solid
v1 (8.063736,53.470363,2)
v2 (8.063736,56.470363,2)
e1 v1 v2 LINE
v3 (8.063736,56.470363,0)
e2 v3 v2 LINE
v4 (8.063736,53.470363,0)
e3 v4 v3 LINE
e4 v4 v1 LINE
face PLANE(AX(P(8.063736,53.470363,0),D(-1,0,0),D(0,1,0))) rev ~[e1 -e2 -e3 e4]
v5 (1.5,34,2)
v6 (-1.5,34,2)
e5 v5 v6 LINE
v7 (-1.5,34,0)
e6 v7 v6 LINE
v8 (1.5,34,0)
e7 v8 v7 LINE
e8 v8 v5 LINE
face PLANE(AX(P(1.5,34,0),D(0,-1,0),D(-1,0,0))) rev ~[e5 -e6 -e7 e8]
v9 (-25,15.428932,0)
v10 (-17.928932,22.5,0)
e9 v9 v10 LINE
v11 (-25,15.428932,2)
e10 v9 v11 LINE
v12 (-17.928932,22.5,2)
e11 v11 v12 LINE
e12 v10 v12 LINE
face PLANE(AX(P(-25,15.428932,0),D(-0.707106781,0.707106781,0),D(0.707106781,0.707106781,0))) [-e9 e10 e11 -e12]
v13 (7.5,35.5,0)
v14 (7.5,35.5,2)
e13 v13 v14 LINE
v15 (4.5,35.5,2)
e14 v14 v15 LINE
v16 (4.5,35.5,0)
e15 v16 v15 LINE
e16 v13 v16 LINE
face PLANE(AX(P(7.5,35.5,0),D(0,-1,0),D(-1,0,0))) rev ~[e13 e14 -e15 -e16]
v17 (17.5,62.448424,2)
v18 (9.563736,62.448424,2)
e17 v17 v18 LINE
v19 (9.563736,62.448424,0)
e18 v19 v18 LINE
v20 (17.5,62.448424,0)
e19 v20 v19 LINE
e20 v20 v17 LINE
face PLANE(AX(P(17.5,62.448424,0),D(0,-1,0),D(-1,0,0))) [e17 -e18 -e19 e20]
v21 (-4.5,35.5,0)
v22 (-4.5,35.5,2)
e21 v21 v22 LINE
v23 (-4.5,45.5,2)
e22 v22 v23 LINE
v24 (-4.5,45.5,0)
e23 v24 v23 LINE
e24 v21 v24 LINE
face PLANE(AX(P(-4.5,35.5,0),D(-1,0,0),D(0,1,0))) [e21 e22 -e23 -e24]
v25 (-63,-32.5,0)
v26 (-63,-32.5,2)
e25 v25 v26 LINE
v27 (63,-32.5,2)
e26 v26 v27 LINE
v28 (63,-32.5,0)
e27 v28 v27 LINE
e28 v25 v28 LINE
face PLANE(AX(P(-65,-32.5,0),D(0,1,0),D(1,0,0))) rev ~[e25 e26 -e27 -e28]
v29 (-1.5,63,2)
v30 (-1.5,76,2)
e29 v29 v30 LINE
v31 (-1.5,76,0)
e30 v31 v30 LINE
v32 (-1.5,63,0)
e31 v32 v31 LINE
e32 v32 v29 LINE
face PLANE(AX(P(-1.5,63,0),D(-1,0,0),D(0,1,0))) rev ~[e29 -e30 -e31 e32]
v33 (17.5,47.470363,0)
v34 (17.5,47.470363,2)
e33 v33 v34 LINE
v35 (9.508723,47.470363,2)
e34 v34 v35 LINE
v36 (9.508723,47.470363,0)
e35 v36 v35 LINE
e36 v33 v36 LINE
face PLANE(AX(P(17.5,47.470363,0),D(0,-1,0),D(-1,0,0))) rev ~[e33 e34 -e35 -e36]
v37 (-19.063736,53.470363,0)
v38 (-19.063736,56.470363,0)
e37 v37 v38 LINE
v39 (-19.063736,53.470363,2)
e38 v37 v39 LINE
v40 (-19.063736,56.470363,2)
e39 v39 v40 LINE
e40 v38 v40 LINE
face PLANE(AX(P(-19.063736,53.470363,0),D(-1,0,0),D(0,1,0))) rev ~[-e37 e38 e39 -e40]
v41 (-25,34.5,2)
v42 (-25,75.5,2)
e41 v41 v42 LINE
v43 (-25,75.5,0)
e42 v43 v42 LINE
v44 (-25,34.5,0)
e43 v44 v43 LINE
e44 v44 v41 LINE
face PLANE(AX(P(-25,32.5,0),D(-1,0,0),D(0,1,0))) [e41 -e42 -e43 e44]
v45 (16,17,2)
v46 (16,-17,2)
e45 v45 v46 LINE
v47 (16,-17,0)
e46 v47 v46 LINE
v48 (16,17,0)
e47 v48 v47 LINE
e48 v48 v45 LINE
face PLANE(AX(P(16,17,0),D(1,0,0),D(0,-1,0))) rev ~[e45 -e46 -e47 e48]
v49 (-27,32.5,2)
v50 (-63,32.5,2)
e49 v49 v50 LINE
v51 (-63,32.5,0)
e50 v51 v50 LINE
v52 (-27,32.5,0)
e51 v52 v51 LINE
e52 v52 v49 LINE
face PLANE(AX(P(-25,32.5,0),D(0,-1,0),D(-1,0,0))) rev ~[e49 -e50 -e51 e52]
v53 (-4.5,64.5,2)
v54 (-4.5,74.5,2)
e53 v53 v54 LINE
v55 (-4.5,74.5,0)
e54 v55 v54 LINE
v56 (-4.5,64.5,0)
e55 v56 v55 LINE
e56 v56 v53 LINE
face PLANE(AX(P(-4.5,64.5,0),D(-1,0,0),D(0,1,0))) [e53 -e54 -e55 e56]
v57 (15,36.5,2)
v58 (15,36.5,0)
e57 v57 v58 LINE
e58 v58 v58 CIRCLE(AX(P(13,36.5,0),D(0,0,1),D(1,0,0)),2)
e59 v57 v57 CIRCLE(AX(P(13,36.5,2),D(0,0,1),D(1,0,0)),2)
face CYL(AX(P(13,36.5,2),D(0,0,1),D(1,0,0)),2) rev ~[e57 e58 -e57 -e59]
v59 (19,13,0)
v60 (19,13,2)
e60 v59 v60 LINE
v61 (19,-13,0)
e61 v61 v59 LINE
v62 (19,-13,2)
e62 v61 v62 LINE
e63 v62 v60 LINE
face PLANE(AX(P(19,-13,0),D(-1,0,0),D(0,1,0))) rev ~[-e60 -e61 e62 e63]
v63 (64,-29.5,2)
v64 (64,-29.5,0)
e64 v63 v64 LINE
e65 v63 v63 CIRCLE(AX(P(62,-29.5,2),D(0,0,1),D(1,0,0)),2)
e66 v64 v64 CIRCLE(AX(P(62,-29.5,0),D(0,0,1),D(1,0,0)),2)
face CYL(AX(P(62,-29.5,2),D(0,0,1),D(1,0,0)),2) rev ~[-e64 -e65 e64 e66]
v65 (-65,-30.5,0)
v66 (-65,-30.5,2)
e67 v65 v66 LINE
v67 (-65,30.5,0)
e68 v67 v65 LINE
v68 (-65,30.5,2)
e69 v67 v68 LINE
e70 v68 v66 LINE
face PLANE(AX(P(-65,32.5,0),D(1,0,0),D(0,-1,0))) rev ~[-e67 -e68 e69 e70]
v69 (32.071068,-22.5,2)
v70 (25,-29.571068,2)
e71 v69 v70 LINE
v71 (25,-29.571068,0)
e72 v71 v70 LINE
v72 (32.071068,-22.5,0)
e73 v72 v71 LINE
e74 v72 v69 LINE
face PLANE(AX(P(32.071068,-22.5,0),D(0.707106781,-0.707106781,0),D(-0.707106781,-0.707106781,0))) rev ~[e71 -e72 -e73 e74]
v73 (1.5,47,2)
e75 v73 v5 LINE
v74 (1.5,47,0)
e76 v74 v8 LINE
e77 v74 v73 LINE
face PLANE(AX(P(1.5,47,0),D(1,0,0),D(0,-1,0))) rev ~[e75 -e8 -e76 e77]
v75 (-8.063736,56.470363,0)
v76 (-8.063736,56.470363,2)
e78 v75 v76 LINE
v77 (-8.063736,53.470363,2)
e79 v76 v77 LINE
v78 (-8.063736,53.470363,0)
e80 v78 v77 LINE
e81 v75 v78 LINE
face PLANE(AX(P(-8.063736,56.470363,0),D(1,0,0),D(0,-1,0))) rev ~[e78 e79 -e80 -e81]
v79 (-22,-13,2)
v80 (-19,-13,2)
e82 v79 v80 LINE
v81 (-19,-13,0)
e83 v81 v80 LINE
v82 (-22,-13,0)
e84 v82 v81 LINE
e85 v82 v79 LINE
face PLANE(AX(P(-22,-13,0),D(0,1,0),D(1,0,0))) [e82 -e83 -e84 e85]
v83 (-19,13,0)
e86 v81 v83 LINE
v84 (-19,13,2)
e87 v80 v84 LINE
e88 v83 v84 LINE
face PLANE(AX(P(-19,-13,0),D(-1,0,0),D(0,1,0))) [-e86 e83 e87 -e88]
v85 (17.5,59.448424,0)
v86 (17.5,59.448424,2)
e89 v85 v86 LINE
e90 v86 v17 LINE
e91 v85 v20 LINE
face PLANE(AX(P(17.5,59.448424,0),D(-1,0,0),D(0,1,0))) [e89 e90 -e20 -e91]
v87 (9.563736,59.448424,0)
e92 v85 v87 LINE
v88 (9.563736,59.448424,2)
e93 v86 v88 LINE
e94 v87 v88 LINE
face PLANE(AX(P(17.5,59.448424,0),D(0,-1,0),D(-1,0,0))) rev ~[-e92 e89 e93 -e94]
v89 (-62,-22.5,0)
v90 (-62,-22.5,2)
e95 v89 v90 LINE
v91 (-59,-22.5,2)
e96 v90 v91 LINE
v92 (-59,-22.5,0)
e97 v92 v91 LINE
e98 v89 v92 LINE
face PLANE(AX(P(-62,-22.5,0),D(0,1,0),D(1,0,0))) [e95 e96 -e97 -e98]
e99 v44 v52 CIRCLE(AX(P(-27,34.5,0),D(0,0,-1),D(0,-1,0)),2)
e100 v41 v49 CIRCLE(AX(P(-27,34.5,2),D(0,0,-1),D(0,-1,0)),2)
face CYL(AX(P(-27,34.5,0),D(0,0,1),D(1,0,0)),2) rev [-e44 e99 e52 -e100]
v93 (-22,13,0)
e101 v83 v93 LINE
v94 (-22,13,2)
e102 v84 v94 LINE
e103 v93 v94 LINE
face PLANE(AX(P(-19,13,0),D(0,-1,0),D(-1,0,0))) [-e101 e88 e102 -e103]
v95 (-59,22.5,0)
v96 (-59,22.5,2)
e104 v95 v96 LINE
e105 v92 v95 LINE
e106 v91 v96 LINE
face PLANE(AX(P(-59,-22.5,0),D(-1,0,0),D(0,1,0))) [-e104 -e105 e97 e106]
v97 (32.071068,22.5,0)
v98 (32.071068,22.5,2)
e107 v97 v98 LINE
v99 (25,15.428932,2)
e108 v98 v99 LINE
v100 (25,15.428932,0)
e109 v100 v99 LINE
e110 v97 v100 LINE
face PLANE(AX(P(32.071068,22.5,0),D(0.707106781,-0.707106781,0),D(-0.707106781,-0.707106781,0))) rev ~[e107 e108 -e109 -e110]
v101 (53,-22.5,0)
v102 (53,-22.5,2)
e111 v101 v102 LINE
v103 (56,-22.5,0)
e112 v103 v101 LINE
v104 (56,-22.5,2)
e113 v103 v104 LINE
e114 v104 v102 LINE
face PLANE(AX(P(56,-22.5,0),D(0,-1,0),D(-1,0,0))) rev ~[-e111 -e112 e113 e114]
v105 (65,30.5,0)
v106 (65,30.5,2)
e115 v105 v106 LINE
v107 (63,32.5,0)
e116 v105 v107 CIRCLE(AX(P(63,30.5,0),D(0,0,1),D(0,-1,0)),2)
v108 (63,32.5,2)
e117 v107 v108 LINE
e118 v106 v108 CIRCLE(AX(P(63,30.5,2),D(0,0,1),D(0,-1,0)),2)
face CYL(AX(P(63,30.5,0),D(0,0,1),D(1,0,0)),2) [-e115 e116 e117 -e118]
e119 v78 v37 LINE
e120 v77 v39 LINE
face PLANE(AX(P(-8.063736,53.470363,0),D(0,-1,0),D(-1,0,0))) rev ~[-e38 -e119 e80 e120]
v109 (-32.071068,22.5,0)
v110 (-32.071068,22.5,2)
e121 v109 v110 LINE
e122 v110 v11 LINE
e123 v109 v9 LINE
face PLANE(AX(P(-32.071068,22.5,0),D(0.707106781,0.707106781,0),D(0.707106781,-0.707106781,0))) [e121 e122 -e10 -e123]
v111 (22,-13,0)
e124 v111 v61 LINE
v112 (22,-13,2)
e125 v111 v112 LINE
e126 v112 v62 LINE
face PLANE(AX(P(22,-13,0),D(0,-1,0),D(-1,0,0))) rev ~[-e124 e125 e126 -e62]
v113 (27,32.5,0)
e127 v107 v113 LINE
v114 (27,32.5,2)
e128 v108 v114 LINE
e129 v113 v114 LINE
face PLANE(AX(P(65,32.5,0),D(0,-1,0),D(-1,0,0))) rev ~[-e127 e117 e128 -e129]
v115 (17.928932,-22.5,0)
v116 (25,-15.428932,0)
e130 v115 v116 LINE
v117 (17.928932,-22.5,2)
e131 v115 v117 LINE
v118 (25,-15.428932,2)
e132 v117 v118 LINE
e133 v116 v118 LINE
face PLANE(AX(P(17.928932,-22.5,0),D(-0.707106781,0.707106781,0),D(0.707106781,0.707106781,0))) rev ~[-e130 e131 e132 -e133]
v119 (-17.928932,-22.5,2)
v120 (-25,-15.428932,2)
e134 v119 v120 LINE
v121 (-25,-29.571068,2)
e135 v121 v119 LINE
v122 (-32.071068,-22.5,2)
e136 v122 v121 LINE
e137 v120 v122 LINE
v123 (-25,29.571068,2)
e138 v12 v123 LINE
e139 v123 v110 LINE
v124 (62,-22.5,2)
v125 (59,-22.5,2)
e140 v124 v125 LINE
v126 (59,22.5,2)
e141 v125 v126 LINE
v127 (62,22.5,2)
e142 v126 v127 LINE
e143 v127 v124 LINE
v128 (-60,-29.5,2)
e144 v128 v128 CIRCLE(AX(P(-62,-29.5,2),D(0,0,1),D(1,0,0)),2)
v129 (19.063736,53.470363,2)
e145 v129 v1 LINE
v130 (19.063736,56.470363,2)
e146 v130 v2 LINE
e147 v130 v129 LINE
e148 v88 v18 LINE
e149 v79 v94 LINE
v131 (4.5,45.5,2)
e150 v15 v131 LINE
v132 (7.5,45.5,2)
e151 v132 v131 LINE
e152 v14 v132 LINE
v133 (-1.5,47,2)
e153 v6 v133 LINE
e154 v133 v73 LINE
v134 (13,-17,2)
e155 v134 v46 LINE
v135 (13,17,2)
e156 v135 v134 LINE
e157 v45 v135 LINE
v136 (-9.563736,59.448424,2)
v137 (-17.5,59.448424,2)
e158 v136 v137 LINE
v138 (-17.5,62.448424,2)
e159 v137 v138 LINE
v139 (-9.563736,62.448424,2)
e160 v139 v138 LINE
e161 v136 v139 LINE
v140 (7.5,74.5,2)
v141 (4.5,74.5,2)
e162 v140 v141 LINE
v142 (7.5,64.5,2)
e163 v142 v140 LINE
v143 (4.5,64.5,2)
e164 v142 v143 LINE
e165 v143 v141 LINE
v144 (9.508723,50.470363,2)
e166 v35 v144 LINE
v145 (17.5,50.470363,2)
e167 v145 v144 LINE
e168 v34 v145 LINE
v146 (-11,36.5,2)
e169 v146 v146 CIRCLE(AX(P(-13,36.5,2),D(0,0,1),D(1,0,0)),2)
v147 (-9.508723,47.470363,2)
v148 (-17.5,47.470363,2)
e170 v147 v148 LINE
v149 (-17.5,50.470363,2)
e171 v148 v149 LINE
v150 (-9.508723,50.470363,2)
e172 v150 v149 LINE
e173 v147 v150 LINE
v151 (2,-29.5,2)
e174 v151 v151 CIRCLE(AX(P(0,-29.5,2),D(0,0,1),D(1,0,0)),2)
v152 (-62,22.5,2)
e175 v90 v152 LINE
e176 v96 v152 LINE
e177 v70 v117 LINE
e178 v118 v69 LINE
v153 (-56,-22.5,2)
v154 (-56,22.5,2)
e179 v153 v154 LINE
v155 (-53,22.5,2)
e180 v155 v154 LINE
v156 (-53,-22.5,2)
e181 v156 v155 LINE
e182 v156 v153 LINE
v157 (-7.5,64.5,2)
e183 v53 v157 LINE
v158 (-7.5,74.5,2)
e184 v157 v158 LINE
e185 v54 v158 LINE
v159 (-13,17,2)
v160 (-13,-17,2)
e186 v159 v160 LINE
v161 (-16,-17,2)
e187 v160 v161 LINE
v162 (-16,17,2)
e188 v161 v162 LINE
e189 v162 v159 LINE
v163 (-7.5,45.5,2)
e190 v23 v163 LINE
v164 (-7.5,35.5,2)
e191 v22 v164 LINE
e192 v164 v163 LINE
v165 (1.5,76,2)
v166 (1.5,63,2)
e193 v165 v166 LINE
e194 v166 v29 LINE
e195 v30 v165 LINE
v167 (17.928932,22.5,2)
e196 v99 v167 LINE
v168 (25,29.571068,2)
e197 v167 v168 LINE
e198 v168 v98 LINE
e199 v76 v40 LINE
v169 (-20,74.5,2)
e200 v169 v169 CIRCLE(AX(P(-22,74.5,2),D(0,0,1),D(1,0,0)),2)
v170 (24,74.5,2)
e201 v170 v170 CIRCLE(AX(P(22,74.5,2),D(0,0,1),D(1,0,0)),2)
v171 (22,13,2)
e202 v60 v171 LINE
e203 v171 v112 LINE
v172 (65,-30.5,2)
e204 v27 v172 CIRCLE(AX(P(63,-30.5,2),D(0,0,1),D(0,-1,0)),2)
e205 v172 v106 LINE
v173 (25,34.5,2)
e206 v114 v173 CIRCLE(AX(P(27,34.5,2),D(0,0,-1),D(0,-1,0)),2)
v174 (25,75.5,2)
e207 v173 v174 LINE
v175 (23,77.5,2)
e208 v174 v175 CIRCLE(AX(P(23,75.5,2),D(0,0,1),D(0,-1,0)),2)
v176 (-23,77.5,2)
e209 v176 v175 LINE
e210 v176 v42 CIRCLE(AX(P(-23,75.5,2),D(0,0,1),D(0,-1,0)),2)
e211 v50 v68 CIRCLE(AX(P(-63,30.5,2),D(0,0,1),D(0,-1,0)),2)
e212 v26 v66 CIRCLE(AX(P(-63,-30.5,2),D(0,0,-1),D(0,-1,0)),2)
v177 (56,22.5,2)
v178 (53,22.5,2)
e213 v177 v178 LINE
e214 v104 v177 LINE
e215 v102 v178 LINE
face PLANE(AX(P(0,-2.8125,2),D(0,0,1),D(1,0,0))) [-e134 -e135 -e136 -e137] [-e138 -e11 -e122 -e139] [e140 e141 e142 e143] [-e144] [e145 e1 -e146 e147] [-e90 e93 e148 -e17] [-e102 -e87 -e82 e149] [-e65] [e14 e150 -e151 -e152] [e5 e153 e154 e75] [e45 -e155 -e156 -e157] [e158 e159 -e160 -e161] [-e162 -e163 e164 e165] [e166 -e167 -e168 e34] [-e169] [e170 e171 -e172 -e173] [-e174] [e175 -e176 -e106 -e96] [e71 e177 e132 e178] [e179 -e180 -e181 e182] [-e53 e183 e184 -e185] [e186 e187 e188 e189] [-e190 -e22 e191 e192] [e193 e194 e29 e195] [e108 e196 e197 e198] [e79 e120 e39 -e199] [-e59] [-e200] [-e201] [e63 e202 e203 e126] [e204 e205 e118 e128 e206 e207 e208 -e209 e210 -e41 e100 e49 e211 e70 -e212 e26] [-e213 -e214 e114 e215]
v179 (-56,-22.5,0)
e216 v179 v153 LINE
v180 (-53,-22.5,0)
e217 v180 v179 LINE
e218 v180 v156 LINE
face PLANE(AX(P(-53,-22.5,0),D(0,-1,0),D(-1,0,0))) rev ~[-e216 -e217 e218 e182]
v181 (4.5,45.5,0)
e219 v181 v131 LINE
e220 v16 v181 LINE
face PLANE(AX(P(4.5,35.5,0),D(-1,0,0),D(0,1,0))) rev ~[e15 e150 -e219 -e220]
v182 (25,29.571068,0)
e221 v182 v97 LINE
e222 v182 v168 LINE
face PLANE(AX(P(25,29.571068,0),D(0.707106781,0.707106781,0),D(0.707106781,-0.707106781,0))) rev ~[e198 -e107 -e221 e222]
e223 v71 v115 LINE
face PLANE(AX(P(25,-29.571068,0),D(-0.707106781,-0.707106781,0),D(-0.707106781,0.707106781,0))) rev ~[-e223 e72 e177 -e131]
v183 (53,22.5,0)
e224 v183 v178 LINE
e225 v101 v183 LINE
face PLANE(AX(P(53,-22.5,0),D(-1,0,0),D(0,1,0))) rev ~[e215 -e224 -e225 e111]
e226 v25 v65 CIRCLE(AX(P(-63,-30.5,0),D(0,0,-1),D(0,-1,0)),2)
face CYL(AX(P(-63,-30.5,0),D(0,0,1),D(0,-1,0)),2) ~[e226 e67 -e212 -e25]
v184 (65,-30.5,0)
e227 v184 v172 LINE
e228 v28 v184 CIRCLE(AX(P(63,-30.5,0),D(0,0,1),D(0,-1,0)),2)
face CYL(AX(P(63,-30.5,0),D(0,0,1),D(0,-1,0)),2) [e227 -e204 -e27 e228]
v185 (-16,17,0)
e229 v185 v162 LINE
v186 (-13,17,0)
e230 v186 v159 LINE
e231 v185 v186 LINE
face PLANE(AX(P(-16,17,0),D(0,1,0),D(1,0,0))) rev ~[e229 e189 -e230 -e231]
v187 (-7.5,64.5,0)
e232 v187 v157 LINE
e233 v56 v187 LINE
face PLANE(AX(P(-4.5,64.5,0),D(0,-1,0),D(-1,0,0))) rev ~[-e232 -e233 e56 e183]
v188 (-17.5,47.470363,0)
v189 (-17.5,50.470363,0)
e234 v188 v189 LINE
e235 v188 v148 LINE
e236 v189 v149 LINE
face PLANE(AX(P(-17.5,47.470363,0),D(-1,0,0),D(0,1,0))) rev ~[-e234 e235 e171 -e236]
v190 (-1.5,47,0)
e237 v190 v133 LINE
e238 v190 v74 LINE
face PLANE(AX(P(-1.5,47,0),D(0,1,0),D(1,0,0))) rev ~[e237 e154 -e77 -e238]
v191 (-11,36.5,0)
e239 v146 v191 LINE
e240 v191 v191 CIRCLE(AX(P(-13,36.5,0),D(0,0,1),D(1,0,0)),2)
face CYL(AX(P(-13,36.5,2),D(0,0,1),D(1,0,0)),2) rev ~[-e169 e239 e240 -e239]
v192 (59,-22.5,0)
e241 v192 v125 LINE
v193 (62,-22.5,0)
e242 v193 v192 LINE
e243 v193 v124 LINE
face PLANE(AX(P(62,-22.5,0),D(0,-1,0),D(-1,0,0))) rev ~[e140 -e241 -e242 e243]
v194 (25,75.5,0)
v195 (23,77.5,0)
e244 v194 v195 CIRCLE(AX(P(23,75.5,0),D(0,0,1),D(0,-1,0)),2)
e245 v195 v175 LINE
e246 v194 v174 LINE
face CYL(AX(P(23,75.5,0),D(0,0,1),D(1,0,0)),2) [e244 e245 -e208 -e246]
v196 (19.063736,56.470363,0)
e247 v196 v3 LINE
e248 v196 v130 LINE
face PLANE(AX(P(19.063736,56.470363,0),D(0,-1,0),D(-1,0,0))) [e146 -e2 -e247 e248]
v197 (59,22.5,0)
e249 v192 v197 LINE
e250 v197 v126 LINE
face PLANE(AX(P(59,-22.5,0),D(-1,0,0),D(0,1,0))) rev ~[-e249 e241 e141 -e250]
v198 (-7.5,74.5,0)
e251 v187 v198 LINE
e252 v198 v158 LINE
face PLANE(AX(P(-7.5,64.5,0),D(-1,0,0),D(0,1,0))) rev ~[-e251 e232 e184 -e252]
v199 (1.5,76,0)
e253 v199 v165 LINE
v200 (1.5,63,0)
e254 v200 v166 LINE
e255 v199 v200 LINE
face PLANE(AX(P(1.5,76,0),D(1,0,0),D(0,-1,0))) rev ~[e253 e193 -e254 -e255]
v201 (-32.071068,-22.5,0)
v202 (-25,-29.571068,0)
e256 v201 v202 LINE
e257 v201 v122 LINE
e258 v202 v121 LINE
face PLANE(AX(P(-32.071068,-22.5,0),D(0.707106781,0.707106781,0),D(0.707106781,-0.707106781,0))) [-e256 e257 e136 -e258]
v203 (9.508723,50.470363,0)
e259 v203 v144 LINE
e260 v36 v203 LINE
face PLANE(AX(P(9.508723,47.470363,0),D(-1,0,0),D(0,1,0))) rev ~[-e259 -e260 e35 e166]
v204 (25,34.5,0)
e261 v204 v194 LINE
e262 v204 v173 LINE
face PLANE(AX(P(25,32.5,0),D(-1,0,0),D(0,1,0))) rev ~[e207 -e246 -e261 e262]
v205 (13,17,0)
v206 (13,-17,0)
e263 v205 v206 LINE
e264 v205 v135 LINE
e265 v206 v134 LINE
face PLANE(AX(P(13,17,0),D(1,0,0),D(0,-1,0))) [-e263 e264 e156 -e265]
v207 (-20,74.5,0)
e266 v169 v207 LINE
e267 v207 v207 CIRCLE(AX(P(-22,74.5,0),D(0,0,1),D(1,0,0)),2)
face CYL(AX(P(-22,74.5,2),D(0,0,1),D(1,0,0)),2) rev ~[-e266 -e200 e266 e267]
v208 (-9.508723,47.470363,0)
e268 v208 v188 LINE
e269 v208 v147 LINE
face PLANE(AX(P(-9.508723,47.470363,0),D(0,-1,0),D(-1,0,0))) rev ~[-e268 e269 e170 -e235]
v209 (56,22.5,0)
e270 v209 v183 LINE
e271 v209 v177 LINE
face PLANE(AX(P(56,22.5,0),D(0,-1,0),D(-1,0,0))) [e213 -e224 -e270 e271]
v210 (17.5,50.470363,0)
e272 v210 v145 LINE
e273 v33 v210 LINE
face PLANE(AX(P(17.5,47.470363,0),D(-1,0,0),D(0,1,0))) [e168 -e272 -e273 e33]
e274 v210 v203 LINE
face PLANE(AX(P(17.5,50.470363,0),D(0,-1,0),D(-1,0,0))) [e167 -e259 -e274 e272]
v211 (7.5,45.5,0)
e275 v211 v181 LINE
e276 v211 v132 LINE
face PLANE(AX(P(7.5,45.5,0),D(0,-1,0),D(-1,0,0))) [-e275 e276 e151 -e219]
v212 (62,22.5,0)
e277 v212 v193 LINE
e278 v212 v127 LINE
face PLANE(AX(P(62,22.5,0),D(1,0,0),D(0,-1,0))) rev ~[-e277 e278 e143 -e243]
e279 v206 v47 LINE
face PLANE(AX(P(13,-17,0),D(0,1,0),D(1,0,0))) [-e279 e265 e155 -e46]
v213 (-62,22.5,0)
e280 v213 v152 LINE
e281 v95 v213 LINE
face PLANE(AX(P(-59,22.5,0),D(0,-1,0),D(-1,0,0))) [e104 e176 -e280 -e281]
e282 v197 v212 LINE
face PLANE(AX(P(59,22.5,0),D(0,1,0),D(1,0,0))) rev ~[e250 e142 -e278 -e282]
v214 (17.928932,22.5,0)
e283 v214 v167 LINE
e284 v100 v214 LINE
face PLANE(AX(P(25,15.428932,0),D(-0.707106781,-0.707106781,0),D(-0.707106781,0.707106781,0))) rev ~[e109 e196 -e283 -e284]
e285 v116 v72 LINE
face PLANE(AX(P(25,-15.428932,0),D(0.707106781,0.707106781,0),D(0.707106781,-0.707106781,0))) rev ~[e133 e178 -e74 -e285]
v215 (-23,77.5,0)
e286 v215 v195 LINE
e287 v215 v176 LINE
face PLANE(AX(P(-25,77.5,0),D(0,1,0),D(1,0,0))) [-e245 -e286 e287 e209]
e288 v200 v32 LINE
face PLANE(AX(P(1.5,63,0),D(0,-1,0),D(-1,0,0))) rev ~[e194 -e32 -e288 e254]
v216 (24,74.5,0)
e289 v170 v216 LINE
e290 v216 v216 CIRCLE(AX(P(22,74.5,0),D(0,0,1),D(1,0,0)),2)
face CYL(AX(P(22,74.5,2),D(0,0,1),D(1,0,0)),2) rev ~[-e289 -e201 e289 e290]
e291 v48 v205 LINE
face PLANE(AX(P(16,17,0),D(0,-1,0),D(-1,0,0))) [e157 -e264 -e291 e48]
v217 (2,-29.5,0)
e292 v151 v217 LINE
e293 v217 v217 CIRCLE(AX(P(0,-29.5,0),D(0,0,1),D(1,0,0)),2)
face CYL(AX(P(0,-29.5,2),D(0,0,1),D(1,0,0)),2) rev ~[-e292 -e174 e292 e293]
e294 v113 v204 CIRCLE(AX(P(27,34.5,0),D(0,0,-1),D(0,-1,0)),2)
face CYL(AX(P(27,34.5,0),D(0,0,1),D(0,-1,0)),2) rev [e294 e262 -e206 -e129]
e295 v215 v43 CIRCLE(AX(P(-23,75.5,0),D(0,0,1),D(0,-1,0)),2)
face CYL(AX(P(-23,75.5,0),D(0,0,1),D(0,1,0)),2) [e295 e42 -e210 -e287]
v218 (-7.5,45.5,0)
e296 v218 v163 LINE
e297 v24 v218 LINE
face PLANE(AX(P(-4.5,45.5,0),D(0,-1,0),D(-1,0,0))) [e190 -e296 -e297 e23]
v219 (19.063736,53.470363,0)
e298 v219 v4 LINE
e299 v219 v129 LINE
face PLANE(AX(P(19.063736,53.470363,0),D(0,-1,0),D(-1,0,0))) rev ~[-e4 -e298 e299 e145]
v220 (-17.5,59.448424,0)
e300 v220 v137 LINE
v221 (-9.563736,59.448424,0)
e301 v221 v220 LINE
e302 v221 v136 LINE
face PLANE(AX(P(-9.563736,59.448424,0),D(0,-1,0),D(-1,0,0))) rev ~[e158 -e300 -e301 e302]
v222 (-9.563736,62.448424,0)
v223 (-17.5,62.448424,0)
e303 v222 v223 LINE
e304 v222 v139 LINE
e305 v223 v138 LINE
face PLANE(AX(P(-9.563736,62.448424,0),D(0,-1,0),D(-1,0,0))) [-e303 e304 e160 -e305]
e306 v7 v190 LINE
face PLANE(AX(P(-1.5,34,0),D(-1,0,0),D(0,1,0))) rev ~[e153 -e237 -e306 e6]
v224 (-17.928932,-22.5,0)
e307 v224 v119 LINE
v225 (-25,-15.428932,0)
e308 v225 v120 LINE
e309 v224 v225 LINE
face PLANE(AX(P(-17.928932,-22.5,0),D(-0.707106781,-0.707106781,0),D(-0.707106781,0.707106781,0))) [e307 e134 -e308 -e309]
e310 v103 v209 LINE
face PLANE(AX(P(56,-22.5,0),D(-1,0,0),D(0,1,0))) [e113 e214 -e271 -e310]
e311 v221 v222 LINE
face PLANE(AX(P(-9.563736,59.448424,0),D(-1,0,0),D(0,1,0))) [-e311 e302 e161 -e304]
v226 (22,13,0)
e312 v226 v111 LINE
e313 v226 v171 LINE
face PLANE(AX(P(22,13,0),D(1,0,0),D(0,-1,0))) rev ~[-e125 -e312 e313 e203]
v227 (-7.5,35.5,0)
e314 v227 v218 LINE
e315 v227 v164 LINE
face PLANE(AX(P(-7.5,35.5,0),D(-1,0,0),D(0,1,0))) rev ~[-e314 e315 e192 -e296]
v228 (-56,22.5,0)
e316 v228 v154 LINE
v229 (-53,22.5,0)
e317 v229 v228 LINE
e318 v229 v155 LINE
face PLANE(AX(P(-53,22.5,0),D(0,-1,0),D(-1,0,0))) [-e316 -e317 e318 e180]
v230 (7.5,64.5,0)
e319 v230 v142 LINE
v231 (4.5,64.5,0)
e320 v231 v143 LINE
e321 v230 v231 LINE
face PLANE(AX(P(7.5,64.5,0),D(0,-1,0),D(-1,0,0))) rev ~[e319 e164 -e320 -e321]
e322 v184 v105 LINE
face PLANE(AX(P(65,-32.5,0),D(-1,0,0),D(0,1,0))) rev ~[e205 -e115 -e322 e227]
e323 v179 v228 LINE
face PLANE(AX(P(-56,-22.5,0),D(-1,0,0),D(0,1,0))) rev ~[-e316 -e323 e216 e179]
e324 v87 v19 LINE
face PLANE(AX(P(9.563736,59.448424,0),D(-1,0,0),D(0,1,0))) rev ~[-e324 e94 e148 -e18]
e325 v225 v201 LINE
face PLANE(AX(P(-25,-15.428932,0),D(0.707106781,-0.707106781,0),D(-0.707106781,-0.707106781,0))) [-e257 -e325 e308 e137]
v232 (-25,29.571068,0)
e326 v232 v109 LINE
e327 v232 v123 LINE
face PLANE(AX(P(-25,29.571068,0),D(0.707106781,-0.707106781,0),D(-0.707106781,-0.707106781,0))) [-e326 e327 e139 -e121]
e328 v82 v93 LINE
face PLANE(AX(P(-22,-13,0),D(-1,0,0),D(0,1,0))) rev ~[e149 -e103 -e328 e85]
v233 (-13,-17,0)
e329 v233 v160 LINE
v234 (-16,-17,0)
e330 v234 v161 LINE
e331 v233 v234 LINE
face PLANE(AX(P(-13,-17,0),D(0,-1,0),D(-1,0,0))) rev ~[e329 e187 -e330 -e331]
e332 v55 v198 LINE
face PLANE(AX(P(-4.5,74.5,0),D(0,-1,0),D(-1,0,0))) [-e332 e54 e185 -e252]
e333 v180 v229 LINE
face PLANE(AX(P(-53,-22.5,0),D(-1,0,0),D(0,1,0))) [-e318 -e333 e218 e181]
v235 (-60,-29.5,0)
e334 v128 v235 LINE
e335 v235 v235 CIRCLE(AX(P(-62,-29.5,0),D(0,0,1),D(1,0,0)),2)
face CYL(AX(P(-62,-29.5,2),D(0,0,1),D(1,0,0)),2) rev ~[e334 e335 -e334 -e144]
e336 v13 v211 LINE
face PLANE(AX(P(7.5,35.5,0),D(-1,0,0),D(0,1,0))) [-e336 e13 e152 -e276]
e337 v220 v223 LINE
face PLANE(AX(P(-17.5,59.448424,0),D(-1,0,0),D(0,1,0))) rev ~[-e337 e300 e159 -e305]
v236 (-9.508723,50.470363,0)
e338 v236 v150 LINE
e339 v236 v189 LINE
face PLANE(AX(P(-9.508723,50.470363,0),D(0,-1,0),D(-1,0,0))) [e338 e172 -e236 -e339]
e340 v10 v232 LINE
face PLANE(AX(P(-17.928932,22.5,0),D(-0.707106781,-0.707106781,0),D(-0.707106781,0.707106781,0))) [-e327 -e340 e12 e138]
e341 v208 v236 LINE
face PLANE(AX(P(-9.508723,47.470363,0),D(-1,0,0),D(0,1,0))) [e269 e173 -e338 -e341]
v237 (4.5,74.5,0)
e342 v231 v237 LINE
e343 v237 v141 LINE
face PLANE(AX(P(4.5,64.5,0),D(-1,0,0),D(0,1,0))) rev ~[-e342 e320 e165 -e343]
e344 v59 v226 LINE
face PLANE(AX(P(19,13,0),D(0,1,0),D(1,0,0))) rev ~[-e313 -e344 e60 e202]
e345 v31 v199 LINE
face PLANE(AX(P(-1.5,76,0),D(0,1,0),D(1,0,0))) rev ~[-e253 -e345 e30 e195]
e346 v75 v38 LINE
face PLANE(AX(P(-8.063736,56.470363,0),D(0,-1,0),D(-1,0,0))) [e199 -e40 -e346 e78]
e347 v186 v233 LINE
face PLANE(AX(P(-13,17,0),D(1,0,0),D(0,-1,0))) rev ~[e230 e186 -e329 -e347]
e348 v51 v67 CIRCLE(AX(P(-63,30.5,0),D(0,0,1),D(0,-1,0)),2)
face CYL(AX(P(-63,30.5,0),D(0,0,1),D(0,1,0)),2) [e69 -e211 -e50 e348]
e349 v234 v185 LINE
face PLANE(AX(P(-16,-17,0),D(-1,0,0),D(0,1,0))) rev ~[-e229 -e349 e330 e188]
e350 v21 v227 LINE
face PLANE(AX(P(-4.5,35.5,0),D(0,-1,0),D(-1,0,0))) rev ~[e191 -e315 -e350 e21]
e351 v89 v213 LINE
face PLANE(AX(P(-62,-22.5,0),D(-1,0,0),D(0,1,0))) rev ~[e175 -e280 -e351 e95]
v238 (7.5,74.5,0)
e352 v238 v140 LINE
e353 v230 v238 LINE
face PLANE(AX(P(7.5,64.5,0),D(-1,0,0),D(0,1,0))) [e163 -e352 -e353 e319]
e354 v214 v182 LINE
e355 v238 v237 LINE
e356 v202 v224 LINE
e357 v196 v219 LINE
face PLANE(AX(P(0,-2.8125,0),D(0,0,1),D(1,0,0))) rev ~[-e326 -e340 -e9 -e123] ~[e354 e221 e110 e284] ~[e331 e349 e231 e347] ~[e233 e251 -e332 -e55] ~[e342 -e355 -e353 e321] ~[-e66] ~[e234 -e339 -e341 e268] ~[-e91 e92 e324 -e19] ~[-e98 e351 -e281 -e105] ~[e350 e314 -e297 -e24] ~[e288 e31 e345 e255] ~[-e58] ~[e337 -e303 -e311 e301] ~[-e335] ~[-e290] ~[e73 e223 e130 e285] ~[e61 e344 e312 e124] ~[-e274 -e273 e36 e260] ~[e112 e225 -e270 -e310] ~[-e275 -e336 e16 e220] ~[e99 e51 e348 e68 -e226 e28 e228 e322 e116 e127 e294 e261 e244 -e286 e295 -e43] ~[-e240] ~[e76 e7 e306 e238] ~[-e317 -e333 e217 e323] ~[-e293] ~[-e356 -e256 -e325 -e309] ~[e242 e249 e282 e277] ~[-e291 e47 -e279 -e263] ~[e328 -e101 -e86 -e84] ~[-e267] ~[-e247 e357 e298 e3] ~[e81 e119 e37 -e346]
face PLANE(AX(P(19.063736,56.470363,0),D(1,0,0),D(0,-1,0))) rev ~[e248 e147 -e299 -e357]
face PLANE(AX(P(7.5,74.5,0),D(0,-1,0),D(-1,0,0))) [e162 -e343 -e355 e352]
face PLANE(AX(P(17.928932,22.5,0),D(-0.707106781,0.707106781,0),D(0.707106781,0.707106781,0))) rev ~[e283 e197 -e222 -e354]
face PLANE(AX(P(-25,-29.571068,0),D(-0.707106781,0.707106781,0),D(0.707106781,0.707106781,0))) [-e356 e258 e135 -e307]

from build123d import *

# Parameters (mm, degrees)
SKETCH1_W           = 50
SKETCH1_H           = 45
BOSS_EXTRUDE1_DEPTH = 2
FILLET1_R           = 2
SKETCH3_W           = 3
SKETCH3_H           = 10
SKETCH3_W_2         = 7.936264089
SKETCH3_H_2         = 3
SKETCH3_W_3         = 11
SKETCH3_H_3         = 1.470363465
SKETCH3_H_4         = 1.529636535
SKETCH3_W_4         = 7.991276849
SKETCH3_H_5         = 45
CUT_EXTRUDE1_DEPTH  = 2
SKETCH4_R           = 2
CUT_EXTRUDE2_DEPTH  = 10


with BuildPart() as part:
    # Sketch1 → Boss-Extrude1 (new body)
    with BuildSketch(Plane.XY):
        Polygon((-65, -32.5), (65, -32.5), (65, 32.5), (25, 32.5), (25, -12.5), (-25, -12.5), (-25, 32.5), (-65, 32.5), align=None)
        with Locations((0, 55)):
            Rectangle(SKETCH1_W, SKETCH1_H)
        with Locations((0, 10)):
            Rectangle(SKETCH1_W, SKETCH1_H)
    extrude(amount=BOSS_EXTRUDE1_DEPTH)

    # Fillet1
    fillet1_edges = [part.edges().sort_by_distance(p)[0] for p in [
        (65, 32.5, 1),
        (65, -32.5, 1),
        (-65, -32.5, 1),
        (-65, 32.5, 1),
        (-25, 32.5, 1),
        (-25, 77.5, 1),
        (25, 77.5, 1),
        (25, 32.5, 1),
    ]]
    fillet(fillet1_edges, radius=FILLET1_R)

    # Sketch3 → Cut-Extrude1 (cut)
    with BuildSketch(Plane(origin=(0, 0, 0), x_dir=(-1, 0, 0), z_dir=(0, 0, -1))):
        with Locations((6, 40.5)):
            Rectangle(SKETCH3_W, SKETCH3_H)
        with Locations((-6, 40.5)):
            Rectangle(SKETCH3_W, SKETCH3_H)
        Polygon((-1.5, 34), (0, 34), (0, 47), (-1.5, 47), (-1.5, 45.5), (-1.5, 35.5), align=None)
        Polygon((0, 47), (0, 34), (1.5, 34), (1.5, 35.5), (1.5, 45.5), (1.5, 47), align=None)
        with Locations((-6, 69.5)):
            Rectangle(SKETCH3_W, SKETCH3_H)
        Polygon((-1.5, 63), (0, 63), (0, 76), (-1.5, 76), (-1.5, 74.5), (-1.5, 64.5), align=None)
        Polygon((0, 76), (0, 63), (1.5, 63), (1.5, 64.5), (1.5, 74.5), (1.5, 76), align=None)
        with Locations((6, 69.5)):
            Rectangle(SKETCH3_W, SKETCH3_H)
        with Locations((13.531867956, 60.94842354)):
            Rectangle(SKETCH3_W_2, SKETCH3_H_2)
        with Locations((13.563735911, 55.735181733)):
            Rectangle(SKETCH3_W_3, SKETCH3_H_3)
        with Locations((13.563735911, 54.235181733)):
            Rectangle(SKETCH3_W_3, SKETCH3_H_4)
        with Locations((13.504361575, 48.970363465)):
            Rectangle(SKETCH3_W_4, SKETCH3_H_2)
        with Locations((-13.531867956, 60.94842354)):
            Rectangle(SKETCH3_W_2, SKETCH3_H_2)
        with Locations((-13.563735911, 55.735181733)):
            Rectangle(SKETCH3_W_3, SKETCH3_H_3)
        with Locations((-13.563735911, 54.235181733)):
            Rectangle(SKETCH3_W_3, SKETCH3_H_4)
        with Locations((-13.504361575, 48.970363465)):
            Rectangle(SKETCH3_W_4, SKETCH3_H_2)
        Polygon((-25, 15.428932188), (-17.928932188, 22.5), (-25, 29.571067812), (-32.071067812, 22.5), align=None)
        Polygon((-19, -13), (-19, 13), (-22, 13), (-22, 0), (-22, -13), align=None)
        Polygon((-13, 17), (-13, -17), (-16, -17), (-16, 13), (-16, 17), align=None)
        Polygon((-25, -29.571067812), (-17.928932188, -22.5), (-25, -15.428932188), (-32.071067812, -22.5), align=None)
        with Locations((-54.5, 0)):
            Rectangle(SKETCH3_W, SKETCH3_H_5)
        Polygon((-59, -22.5), (-59, 22.5), (-62, 22.5), (-62, 0), (-62, -22.5), align=None)
        Polygon((25, 29.571067812), (32.071067812, 22.5), (25, 15.428932188), (17.928932188, 22.5), align=None)
        Polygon((22, 0), (22, -13), (19, -13), (19, 13), (22, 13), align=None)
        Polygon((13, 17), (13, -17), (16, -17), (16, 13), (16, 17), align=None)
        Polygon((25, -15.428932188), (32.071067812, -22.5), (25, -29.571067812), (17.928932188, -22.5), align=None)
        Polygon((62, 0), (62, -22.5), (59, -22.5), (59, 22.5), (62, 22.5), align=None)
        with Locations((54.5, 0)):
            Rectangle(SKETCH3_W, SKETCH3_H_5)
    extrude(amount=-CUT_EXTRUDE1_DEPTH, mode=Mode.SUBTRACT)

    # Sketch4 → Cut-Extrude2 (cut)
    with BuildSketch(Plane.XY.offset(2)):
        with Locations((0, -29.5)):
            Circle(SKETCH4_R)
        with Locations((-62, -29.5)):
            Circle(SKETCH4_R)
        with Locations((-13, 36.5)):
            Circle(SKETCH4_R)
        with Locations((13, 36.5)):
            Circle(SKETCH4_R)
        with Locations((62, -29.5)):
            Circle(SKETCH4_R)
        with Locations((22, 74.5)):
            Circle(SKETCH4_R)
        with Locations((-22, 74.5)):
            Circle(SKETCH4_R)
    extrude(amount=-CUT_EXTRUDE2_DEPTH, mode=Mode.SUBTRACT)


solid = part.part
